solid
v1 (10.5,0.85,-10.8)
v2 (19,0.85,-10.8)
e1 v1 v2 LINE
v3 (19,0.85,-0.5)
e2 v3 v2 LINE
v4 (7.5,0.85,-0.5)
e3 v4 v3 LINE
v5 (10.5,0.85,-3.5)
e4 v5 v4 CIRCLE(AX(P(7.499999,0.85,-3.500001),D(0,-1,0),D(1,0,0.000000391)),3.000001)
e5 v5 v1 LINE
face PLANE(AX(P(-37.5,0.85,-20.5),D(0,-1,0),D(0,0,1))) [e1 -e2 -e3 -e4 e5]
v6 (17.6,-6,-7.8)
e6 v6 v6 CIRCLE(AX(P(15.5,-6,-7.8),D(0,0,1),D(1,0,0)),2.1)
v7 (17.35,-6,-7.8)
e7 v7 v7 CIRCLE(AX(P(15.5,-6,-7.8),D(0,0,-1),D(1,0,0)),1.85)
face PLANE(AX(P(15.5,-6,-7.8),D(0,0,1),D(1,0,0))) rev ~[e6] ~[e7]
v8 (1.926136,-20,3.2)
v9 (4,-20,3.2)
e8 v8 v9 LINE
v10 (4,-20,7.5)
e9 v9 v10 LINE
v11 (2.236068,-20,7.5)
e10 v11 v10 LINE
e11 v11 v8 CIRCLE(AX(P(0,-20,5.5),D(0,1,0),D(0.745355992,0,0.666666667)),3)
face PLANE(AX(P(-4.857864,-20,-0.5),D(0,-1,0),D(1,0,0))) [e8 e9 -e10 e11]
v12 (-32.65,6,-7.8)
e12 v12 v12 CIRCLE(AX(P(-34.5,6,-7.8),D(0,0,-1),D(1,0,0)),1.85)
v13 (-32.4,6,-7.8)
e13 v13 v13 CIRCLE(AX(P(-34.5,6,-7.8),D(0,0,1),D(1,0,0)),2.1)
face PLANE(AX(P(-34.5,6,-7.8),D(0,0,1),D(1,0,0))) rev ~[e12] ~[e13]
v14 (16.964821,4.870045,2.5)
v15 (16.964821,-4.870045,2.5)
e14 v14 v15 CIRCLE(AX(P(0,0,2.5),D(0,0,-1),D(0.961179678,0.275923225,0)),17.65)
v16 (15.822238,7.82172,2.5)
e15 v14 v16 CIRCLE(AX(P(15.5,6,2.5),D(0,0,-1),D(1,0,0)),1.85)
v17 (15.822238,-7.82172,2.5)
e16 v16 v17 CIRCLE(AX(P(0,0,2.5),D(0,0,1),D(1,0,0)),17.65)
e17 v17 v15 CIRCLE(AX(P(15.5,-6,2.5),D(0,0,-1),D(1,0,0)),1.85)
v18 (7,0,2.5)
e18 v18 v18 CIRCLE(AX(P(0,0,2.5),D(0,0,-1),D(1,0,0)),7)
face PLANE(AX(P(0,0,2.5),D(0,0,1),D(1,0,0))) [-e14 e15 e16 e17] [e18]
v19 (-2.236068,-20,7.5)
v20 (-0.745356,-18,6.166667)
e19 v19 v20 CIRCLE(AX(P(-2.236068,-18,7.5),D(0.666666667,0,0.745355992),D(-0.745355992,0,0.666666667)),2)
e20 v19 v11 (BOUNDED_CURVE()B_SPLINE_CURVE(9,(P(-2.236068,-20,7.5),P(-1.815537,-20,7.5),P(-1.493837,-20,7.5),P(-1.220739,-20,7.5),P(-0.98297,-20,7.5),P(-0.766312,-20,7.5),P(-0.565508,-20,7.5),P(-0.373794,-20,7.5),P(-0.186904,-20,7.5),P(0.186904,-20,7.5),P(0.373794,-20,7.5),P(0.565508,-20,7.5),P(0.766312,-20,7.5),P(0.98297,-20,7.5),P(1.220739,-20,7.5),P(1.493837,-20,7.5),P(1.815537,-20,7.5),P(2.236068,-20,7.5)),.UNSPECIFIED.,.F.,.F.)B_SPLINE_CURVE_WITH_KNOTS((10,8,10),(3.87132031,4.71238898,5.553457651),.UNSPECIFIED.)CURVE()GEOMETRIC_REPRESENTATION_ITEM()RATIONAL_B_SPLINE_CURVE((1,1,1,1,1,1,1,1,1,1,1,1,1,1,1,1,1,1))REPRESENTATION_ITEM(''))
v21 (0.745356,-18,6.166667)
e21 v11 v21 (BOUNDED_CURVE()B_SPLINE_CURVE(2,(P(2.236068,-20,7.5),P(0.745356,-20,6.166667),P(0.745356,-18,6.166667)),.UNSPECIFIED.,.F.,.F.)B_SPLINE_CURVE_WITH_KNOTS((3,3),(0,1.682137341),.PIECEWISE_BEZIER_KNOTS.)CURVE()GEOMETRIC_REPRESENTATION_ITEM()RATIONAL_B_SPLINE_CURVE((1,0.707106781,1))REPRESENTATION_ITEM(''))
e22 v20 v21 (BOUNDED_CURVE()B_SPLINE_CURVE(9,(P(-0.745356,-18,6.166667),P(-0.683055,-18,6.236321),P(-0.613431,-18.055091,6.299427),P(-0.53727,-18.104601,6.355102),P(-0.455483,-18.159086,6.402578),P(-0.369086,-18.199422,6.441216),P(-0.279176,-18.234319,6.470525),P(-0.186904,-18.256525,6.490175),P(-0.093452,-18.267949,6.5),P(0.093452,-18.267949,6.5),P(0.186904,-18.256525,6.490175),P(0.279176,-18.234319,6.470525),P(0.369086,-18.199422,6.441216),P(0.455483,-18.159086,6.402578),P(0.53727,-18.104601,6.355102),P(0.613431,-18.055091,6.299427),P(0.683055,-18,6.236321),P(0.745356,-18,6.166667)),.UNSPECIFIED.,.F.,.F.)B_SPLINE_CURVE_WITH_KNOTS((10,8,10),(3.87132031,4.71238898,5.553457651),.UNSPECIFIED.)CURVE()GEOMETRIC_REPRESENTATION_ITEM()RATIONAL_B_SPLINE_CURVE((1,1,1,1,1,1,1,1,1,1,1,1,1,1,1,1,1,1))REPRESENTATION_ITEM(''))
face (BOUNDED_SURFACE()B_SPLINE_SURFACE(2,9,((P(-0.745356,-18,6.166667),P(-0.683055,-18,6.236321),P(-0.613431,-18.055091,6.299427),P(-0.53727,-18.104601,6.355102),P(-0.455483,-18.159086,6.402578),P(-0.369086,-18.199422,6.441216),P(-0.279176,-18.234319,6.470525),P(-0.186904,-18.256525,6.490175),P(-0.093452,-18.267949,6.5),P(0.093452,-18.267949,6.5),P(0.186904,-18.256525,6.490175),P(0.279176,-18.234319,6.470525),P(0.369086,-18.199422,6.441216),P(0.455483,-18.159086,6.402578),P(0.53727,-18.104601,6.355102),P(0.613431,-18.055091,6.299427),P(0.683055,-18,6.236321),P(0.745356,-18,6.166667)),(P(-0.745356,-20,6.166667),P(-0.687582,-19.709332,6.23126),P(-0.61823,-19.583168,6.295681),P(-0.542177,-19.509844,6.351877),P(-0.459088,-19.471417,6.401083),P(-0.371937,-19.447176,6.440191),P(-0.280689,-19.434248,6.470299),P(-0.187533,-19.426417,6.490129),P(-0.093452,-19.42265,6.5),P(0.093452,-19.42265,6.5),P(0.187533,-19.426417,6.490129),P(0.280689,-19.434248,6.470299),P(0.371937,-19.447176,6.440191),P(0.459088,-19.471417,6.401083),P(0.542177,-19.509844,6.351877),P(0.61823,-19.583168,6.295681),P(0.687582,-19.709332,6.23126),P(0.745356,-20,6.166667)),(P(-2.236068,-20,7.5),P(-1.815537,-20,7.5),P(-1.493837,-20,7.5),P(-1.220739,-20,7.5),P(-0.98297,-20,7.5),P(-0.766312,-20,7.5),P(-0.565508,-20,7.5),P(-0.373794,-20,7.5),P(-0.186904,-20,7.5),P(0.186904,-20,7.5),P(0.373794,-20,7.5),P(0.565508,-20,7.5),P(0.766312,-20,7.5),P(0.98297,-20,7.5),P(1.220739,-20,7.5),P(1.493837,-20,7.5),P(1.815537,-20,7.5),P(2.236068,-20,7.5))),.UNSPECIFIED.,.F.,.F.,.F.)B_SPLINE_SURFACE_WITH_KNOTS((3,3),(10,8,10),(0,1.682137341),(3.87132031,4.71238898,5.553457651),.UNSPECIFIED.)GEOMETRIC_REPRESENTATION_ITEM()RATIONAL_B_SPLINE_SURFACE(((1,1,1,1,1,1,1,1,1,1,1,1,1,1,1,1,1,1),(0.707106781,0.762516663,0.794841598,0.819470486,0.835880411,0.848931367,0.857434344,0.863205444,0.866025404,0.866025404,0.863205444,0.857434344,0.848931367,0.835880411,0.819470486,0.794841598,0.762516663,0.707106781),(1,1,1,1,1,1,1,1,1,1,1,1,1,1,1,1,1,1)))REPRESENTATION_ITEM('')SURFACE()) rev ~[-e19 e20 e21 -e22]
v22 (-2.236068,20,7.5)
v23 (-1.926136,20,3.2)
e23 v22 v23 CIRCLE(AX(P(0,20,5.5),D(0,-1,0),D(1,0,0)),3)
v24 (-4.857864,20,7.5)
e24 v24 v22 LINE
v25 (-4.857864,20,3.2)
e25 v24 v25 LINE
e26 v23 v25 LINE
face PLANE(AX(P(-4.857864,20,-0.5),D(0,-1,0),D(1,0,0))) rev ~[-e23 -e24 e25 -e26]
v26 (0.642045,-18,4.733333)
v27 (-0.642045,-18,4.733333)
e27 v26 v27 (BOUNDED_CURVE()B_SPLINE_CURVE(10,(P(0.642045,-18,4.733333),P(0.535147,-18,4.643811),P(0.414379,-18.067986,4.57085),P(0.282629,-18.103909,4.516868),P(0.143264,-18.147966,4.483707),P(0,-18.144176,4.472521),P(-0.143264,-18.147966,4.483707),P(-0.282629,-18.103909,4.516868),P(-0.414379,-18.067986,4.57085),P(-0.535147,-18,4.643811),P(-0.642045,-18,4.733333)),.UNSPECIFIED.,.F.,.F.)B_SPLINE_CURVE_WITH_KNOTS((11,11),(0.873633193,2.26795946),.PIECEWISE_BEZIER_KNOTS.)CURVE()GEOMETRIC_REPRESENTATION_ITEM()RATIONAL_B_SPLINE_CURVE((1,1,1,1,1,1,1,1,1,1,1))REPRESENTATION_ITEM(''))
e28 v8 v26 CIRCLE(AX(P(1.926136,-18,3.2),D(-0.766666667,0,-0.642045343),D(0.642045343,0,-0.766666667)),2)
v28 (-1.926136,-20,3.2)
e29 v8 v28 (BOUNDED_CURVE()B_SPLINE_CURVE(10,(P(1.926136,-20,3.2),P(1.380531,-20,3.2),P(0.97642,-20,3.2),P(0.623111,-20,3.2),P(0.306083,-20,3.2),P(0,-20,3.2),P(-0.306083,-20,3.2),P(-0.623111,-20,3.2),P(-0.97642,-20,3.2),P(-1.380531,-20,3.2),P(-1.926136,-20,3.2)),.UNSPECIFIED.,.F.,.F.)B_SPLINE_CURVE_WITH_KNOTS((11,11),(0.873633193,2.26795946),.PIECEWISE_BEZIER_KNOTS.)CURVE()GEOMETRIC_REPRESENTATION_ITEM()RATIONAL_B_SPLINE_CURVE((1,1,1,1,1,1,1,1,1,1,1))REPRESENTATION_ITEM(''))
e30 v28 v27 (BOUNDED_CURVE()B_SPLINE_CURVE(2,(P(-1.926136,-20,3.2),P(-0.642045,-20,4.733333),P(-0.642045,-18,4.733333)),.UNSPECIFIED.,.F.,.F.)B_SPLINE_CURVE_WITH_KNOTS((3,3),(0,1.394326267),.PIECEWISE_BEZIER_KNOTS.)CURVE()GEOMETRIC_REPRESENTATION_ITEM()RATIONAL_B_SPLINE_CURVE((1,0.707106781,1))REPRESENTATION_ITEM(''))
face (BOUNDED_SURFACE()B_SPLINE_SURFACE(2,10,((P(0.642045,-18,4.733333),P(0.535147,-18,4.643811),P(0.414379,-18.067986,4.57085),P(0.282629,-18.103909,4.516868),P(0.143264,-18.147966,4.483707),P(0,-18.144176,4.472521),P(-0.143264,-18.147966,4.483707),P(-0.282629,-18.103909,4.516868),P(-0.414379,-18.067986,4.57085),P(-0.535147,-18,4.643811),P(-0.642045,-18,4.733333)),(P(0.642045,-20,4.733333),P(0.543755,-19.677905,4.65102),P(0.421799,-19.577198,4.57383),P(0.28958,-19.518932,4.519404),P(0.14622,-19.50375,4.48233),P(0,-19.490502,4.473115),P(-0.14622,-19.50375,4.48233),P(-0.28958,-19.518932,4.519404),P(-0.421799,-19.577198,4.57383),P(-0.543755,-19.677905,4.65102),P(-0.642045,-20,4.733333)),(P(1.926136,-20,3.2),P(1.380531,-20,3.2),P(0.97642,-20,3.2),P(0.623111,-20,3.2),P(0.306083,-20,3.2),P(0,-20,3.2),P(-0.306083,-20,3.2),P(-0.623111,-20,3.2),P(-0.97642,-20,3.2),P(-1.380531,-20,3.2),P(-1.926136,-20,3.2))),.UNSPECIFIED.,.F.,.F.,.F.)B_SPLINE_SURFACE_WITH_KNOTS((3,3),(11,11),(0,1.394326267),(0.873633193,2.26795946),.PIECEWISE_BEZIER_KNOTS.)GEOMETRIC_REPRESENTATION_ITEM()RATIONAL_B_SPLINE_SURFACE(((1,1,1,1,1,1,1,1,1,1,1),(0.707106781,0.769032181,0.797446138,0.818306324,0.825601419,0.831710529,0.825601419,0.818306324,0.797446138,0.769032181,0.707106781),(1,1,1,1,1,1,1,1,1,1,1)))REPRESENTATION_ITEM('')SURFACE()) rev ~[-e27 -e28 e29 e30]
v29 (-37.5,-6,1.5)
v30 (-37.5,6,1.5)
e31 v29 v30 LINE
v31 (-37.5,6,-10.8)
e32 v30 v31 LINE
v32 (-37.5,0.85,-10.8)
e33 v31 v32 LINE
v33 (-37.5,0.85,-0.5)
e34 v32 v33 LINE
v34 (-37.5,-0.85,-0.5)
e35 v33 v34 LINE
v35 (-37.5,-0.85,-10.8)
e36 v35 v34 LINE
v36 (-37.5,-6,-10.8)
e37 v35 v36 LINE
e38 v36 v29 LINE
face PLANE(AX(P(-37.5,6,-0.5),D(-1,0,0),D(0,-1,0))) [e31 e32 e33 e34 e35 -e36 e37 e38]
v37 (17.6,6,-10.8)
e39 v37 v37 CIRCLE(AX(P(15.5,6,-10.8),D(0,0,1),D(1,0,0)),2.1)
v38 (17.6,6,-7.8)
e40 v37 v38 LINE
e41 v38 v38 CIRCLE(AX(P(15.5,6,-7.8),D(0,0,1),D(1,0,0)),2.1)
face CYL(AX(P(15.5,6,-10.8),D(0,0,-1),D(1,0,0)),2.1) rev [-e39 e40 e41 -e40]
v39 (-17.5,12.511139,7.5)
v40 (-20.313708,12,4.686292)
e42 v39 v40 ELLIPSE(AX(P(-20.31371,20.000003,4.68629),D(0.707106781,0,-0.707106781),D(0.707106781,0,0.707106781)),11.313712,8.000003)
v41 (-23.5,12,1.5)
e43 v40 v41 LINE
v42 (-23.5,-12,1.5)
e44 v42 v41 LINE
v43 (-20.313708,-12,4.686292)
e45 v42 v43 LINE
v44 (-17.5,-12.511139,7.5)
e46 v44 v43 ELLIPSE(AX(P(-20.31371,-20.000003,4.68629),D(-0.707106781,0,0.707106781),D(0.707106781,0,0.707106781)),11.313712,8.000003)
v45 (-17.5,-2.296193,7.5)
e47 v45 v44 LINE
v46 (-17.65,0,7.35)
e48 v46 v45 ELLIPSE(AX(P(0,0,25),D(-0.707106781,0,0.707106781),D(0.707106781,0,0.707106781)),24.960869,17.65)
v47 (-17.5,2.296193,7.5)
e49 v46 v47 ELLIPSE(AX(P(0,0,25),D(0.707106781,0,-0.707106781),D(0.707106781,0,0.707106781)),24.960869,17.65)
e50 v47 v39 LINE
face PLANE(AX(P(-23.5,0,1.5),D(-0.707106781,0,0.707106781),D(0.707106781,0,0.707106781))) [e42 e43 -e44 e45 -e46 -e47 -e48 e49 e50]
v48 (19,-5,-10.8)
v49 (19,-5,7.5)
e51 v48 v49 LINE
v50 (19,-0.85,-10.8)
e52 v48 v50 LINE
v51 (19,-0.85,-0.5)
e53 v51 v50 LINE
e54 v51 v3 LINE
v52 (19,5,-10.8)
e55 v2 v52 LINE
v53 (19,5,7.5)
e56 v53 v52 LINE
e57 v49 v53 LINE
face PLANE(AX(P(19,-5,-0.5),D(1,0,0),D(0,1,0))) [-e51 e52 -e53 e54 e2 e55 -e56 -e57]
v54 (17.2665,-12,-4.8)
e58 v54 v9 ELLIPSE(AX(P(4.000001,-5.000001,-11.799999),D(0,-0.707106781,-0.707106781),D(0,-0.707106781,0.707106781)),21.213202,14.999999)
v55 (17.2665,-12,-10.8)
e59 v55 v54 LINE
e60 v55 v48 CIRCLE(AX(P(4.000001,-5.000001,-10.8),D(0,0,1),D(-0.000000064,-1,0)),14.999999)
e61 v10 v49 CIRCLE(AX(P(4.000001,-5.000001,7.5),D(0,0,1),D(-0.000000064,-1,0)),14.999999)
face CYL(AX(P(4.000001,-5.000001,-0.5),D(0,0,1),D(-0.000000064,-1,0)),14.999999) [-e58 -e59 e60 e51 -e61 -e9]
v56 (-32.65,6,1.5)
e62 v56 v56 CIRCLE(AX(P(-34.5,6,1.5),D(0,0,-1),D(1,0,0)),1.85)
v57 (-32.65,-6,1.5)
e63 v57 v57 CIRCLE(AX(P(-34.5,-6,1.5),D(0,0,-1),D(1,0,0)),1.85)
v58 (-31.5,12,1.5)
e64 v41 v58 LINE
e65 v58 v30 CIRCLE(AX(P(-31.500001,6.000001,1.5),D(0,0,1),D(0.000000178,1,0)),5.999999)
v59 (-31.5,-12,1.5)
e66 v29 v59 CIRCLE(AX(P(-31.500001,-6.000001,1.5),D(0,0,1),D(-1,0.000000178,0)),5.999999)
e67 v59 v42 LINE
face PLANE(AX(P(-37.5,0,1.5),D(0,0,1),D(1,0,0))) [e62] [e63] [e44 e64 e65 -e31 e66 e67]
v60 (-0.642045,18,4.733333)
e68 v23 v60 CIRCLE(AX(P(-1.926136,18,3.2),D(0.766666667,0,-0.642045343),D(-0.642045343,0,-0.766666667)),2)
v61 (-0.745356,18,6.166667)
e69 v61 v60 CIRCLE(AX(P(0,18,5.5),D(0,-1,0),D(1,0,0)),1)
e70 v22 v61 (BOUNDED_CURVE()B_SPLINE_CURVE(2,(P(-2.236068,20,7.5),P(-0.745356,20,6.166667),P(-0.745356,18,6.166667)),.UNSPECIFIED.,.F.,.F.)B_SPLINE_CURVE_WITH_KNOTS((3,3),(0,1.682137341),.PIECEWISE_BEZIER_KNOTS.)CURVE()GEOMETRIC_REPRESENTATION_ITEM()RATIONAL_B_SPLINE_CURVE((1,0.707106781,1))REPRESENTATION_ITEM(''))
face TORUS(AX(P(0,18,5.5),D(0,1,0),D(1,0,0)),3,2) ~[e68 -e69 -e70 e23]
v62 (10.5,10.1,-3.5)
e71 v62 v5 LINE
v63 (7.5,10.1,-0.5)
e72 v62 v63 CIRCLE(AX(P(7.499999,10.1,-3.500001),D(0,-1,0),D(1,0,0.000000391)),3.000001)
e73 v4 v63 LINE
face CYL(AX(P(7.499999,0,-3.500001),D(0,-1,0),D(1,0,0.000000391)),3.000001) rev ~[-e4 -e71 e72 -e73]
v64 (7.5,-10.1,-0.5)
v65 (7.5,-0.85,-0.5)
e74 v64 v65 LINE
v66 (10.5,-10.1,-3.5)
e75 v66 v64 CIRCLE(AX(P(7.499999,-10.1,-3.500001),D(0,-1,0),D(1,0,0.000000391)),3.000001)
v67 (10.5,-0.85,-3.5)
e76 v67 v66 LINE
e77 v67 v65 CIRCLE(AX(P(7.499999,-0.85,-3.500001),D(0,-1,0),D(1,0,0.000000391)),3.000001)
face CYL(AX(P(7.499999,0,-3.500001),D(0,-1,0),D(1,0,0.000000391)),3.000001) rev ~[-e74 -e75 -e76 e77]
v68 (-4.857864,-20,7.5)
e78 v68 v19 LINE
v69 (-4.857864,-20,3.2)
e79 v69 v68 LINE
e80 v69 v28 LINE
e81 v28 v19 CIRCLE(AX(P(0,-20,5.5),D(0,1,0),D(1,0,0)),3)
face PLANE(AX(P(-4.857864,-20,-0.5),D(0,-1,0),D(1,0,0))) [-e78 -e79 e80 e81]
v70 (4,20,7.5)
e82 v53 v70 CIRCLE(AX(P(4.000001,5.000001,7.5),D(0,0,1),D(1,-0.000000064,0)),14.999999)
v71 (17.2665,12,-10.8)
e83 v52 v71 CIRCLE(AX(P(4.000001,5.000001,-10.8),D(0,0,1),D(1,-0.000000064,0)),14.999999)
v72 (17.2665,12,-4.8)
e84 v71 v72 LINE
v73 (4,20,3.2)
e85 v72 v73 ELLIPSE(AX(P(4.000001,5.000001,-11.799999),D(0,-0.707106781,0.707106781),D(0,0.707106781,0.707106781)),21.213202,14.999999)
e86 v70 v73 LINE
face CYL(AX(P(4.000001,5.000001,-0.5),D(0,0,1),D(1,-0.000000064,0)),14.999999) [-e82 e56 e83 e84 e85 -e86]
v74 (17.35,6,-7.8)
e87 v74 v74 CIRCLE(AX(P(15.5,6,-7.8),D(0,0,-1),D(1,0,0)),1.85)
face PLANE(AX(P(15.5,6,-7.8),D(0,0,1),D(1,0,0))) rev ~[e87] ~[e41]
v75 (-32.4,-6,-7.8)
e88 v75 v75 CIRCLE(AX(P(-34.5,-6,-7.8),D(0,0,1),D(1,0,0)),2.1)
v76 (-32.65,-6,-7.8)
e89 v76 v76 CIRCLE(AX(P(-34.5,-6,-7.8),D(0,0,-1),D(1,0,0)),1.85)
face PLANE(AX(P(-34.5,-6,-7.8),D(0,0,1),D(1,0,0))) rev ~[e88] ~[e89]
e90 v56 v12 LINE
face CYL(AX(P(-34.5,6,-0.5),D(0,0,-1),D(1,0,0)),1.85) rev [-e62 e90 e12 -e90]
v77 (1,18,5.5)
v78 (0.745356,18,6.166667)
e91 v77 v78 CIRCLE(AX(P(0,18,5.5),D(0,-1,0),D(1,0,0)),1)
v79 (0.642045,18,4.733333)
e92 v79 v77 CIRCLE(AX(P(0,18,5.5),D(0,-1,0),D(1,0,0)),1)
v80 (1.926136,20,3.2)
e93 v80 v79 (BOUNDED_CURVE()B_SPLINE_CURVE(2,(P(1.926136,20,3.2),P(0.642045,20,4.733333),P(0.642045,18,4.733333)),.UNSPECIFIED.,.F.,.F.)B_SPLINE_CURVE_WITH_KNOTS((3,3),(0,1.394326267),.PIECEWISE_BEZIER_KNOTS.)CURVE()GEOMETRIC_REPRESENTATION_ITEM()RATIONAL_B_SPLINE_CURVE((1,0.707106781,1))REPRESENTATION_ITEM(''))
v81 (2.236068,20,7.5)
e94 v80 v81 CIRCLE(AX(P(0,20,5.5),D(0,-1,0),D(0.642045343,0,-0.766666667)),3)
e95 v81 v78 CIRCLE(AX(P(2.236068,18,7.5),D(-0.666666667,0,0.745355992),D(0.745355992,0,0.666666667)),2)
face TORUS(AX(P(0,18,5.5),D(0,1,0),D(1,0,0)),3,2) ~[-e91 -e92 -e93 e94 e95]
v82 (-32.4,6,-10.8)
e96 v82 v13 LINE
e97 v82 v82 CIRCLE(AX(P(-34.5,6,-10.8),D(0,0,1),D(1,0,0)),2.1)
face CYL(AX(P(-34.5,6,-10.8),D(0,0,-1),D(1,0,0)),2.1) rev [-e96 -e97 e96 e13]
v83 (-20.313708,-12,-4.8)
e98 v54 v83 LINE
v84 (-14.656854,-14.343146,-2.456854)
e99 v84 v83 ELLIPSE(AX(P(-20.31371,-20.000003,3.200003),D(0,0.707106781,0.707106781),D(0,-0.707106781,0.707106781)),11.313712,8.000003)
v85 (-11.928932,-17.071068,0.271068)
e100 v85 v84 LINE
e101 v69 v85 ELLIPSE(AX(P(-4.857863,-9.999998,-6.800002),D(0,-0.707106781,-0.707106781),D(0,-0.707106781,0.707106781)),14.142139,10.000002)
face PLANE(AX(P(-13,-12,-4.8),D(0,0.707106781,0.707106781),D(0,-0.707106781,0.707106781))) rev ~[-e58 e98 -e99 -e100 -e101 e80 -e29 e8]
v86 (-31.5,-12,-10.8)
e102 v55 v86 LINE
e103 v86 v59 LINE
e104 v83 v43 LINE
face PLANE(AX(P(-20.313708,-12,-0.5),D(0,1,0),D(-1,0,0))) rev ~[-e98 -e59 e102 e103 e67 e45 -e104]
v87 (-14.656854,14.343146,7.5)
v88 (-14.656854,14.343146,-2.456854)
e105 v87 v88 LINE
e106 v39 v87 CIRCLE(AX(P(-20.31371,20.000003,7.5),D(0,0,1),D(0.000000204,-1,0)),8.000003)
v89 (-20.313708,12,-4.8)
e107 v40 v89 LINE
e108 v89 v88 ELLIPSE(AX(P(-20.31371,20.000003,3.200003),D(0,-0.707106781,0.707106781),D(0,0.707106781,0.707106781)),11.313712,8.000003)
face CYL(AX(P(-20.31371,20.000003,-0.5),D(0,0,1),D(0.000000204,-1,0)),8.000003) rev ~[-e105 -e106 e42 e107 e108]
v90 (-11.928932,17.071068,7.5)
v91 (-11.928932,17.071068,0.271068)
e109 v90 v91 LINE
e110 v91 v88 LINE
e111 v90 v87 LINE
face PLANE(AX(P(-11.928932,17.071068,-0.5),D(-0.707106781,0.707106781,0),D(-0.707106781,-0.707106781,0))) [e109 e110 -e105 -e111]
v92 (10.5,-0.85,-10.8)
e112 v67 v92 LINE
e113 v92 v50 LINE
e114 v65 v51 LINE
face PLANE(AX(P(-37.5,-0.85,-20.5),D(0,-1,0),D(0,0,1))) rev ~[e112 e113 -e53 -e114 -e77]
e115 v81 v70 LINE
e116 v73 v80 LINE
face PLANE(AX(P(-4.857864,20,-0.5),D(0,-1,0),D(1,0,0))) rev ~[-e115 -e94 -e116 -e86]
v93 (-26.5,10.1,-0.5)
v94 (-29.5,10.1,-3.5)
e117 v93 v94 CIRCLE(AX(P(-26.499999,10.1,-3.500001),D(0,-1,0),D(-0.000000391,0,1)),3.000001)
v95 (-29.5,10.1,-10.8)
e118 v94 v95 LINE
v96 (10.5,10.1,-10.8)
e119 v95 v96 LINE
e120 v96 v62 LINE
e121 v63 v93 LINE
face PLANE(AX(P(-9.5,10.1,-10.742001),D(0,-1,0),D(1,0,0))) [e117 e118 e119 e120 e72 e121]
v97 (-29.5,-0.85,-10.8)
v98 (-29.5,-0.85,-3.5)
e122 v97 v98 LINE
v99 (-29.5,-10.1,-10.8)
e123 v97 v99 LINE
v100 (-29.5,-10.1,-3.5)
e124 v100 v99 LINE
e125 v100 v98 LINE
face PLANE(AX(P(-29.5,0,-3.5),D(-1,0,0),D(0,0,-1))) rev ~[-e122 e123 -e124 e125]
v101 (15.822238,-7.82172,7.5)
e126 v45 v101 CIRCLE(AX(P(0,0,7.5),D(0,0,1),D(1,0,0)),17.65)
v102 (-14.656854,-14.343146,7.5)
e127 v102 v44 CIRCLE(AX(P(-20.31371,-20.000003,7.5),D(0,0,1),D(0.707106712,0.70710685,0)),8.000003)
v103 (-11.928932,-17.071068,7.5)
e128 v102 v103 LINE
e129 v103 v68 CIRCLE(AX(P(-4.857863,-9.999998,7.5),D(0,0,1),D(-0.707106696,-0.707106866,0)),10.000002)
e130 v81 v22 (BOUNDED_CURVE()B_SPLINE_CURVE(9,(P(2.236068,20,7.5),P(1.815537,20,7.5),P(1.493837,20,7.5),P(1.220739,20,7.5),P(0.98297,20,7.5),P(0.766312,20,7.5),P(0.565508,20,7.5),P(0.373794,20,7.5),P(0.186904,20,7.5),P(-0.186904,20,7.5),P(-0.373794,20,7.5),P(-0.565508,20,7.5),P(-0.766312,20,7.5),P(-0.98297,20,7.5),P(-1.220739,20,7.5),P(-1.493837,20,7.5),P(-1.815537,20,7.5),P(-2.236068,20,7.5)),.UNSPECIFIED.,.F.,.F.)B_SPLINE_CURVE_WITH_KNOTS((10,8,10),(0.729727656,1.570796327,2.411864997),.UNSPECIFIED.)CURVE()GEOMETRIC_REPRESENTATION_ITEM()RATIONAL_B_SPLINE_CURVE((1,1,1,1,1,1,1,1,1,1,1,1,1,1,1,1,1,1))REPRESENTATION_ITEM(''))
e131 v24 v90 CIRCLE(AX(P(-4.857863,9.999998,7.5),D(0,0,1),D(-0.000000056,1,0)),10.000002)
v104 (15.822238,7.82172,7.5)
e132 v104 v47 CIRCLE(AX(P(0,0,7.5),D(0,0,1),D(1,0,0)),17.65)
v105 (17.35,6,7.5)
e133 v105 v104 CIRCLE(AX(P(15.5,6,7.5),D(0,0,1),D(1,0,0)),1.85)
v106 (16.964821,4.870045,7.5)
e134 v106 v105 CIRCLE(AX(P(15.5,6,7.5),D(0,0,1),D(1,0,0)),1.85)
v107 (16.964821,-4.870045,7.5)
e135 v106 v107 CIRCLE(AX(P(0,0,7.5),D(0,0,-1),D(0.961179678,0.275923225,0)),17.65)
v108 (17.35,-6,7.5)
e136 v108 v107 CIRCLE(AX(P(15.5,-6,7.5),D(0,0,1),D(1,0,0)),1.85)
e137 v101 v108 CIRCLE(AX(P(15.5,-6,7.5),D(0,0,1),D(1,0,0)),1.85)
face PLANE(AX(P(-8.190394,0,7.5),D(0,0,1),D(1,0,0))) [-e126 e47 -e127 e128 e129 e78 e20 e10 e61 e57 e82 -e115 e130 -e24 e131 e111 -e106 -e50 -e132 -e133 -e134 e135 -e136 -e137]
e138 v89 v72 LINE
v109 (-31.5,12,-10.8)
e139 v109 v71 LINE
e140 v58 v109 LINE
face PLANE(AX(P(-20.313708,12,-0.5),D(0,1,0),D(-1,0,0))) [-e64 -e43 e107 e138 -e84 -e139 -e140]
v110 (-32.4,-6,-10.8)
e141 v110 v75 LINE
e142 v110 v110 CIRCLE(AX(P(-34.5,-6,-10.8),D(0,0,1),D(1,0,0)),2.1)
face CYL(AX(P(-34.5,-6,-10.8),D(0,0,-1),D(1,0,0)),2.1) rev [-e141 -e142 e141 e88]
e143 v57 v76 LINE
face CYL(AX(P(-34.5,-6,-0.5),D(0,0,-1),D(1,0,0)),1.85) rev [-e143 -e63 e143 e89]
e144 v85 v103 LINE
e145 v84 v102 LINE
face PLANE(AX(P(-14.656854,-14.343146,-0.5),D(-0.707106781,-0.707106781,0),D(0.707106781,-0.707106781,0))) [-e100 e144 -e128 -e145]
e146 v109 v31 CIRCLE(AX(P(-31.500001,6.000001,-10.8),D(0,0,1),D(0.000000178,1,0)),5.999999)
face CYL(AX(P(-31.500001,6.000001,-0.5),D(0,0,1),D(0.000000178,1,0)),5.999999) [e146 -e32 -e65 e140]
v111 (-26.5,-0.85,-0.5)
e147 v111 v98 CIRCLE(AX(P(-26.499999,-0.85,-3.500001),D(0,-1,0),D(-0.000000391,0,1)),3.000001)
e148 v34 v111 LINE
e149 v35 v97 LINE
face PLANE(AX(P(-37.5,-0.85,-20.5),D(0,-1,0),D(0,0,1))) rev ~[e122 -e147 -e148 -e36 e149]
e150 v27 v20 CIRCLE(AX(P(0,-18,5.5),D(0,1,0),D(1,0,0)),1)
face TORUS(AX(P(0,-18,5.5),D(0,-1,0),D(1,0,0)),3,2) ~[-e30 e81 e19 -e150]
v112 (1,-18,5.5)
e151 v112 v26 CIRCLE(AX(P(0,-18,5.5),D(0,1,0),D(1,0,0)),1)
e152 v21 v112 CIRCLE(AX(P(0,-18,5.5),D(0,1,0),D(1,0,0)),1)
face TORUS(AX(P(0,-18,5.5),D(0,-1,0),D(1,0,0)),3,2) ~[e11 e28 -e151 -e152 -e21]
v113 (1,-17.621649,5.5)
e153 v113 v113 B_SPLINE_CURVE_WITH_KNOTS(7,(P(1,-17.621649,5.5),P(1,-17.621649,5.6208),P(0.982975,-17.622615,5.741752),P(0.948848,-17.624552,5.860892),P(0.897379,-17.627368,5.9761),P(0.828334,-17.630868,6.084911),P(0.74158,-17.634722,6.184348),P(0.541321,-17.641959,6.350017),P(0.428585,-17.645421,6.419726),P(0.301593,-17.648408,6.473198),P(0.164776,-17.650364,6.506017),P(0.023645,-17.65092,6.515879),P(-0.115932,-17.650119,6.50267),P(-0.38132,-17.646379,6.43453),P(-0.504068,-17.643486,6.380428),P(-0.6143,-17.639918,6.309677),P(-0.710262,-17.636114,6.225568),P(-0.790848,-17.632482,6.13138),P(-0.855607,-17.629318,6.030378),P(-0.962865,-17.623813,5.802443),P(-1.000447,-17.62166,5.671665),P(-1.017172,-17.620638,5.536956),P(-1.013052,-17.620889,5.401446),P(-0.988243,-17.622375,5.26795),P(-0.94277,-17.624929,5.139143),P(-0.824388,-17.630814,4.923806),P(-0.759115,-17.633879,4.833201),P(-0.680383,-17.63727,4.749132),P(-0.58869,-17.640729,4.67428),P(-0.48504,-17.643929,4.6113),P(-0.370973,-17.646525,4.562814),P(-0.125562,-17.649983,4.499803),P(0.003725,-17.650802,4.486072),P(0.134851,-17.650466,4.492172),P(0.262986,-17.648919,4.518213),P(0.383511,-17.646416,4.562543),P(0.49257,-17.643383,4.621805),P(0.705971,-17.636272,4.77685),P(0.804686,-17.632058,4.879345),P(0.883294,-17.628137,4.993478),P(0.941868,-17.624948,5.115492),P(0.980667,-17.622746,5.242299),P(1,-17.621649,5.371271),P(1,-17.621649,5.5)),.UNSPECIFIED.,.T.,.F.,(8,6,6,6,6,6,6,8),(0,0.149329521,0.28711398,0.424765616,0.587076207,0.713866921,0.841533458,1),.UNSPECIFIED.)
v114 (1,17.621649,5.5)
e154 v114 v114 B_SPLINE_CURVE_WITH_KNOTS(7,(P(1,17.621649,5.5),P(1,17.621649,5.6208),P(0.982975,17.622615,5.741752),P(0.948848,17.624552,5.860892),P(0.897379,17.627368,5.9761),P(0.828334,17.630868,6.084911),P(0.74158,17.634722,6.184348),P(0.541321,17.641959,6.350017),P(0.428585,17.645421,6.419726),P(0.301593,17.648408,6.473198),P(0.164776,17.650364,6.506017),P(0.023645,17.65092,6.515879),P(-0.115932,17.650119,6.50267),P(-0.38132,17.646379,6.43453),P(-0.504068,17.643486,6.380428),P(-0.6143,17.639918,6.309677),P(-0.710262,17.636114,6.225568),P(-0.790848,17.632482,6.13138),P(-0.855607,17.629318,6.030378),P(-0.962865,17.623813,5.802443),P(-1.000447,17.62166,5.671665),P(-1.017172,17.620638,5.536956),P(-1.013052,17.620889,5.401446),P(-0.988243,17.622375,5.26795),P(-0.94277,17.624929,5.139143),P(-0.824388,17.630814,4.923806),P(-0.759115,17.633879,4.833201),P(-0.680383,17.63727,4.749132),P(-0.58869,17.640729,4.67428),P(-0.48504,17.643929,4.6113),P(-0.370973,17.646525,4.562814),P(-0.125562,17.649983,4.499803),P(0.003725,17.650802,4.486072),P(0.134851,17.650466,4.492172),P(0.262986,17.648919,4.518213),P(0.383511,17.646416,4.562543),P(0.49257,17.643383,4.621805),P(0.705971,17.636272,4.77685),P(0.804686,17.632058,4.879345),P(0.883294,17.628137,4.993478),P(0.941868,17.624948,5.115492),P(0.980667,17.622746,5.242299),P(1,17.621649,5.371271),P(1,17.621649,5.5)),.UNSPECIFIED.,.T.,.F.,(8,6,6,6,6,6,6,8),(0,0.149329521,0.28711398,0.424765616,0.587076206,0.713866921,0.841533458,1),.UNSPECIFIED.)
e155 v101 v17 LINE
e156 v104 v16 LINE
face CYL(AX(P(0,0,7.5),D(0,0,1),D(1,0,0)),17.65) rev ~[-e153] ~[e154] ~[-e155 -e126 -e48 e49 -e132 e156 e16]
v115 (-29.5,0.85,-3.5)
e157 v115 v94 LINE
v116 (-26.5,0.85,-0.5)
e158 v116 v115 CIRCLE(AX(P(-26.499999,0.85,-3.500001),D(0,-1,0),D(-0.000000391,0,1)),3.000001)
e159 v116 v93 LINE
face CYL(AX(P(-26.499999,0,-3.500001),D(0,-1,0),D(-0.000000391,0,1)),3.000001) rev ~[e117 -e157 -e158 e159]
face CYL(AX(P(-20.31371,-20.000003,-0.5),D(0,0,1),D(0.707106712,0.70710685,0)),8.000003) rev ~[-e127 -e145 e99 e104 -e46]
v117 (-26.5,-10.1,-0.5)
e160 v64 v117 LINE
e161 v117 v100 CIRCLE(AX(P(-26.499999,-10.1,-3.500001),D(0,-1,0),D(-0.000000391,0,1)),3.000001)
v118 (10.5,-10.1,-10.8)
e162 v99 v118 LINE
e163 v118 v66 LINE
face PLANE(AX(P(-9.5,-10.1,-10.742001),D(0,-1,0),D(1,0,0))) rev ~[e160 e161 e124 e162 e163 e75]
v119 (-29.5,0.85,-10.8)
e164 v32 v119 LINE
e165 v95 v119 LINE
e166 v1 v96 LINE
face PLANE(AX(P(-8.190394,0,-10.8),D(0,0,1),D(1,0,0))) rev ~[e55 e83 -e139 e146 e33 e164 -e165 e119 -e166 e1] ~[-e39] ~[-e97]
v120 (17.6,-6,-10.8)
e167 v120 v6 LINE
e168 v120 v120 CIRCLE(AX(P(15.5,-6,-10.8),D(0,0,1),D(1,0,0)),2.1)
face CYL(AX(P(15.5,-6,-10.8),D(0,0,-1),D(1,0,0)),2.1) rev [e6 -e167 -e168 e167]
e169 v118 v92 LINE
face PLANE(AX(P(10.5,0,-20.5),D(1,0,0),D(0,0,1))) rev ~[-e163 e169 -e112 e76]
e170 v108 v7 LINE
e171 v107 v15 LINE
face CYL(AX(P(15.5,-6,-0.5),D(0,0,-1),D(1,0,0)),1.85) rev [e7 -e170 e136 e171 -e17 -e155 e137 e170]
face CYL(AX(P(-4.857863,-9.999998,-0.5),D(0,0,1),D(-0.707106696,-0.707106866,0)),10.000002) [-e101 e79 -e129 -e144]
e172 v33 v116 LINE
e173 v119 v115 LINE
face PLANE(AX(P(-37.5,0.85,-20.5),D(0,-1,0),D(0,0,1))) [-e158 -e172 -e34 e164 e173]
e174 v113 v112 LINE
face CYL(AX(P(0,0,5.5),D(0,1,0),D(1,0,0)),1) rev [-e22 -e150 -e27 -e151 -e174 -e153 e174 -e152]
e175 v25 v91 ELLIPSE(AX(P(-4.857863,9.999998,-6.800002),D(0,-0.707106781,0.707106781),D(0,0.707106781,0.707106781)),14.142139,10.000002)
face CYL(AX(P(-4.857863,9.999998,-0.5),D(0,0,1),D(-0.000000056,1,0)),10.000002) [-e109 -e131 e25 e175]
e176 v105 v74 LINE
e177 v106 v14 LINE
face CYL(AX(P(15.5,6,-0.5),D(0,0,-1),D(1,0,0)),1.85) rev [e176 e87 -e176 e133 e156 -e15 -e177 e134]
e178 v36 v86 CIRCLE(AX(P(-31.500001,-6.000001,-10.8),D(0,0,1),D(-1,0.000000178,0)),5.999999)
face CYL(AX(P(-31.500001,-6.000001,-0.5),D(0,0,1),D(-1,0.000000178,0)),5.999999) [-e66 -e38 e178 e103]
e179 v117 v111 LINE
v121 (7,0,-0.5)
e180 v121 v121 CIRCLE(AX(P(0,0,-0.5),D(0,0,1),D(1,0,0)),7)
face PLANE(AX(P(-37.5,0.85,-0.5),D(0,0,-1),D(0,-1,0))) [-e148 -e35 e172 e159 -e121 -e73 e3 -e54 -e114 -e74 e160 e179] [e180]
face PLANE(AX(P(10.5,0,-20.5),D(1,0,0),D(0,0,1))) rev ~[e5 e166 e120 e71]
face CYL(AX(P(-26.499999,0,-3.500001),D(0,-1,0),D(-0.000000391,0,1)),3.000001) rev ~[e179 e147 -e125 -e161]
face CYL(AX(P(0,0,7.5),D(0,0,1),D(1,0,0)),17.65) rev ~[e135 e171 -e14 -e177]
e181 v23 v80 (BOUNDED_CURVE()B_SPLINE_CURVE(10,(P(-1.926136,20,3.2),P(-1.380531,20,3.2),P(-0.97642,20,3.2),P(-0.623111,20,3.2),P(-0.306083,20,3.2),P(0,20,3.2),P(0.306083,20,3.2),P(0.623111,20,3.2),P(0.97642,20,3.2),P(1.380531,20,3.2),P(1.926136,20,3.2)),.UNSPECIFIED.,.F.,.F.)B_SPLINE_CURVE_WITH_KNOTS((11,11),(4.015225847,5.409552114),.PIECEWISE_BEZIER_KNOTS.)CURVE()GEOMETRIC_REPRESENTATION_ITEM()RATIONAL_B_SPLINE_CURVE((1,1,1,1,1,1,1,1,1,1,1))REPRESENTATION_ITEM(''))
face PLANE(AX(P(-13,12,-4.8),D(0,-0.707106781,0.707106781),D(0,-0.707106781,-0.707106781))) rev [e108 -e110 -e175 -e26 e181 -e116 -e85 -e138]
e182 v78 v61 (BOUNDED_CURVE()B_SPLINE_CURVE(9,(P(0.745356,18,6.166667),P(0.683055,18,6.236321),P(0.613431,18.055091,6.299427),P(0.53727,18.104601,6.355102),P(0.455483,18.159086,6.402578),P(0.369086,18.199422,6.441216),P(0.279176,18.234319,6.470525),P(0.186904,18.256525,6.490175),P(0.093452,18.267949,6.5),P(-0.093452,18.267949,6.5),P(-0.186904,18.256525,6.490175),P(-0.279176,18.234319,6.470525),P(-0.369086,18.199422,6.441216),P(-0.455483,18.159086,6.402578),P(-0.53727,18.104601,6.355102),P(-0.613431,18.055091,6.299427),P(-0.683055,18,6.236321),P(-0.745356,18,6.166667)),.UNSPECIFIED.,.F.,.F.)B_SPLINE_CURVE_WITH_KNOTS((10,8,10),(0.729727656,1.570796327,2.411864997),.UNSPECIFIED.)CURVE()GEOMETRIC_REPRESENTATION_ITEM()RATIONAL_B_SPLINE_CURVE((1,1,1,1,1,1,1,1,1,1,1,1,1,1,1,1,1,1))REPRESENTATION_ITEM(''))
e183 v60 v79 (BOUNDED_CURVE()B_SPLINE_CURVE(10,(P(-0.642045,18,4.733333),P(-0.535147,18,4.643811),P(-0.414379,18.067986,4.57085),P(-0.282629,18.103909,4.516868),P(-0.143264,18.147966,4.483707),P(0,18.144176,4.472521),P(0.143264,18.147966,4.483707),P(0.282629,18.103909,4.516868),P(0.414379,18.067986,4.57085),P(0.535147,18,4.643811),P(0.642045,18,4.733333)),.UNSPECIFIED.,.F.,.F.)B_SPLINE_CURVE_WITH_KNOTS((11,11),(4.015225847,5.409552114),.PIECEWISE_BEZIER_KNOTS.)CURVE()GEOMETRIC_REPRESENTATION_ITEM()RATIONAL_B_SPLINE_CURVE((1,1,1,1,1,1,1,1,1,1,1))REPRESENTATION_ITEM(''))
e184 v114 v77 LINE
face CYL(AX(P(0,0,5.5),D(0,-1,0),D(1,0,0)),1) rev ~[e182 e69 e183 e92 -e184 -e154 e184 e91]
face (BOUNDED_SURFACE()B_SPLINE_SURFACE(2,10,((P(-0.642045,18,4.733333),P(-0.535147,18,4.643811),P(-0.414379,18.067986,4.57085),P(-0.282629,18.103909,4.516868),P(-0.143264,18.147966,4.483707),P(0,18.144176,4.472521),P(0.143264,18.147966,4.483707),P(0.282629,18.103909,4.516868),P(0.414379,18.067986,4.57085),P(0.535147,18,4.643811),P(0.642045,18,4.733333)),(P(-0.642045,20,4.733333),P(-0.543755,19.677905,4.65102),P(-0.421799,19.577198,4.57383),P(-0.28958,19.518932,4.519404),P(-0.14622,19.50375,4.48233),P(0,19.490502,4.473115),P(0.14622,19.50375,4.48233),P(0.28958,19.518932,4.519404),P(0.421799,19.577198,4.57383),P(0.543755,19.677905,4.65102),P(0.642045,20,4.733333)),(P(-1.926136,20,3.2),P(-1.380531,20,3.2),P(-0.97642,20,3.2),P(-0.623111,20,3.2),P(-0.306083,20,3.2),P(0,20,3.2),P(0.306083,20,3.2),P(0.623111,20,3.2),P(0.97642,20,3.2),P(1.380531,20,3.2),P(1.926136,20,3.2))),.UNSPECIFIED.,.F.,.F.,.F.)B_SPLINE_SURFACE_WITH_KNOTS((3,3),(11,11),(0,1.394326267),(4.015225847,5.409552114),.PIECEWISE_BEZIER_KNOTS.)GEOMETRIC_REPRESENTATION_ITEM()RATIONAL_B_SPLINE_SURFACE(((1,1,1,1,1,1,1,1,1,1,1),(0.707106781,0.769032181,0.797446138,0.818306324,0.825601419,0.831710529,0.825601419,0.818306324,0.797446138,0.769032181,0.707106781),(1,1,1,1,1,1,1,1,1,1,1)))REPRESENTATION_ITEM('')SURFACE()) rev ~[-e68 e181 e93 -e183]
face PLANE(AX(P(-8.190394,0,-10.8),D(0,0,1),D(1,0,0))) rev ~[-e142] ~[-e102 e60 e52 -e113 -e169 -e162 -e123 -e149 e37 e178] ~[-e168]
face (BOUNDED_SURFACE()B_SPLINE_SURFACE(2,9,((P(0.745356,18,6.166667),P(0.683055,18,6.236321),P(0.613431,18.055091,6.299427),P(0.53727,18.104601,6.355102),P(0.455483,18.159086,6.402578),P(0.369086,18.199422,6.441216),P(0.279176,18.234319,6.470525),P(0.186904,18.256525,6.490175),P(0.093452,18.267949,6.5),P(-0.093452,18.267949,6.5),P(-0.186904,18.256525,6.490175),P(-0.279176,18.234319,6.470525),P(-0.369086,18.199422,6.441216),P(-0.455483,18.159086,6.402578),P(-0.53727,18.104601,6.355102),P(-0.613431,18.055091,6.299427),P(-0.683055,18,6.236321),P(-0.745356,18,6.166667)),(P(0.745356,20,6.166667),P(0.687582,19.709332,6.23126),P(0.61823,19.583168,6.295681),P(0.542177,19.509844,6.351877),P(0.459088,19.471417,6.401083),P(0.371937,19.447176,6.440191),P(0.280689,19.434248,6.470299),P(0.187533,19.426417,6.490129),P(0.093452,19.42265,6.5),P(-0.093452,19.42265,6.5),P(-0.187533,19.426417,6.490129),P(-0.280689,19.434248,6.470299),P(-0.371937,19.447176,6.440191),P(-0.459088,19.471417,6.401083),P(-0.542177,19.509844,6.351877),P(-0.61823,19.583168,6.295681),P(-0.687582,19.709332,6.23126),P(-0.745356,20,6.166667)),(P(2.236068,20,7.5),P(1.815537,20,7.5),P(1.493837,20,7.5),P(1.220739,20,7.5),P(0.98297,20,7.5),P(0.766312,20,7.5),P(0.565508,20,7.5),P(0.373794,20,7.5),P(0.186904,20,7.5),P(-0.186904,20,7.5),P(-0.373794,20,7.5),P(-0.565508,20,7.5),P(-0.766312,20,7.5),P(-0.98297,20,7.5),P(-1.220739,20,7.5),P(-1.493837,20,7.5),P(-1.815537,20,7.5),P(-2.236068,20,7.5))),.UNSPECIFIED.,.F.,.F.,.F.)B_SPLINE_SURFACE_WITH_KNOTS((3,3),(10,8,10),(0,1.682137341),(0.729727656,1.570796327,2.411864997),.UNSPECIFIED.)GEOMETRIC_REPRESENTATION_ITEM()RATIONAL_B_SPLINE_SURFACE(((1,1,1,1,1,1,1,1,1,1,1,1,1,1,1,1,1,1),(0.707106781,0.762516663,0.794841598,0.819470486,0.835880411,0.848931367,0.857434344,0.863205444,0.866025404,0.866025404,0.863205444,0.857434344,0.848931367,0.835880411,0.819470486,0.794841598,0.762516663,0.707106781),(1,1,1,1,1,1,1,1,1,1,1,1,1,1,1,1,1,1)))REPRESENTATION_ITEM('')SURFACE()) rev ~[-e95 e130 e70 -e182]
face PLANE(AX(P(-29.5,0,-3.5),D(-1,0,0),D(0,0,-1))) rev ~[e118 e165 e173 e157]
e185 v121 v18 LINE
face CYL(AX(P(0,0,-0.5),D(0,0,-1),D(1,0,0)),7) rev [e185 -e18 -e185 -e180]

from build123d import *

# Parameters (mm, degrees)
SKETCH035_R          = 7
SKETCH035_R_2        = 1.85
PAD031_DEPTH         = 8
PAD031_DEPTH_BACK    = 10.3
POCKET036_DEPTH      = 10.1
SKETCH070_W          = 1.7
SKETCH070_H          = 20
POCKET037_DEPTH      = 56.501
SKETCH043_R          = 17.65
POCKET038_DEPTH      = 5
POCKET039_DEPTH      = 20.001
POCKET039_DEPTH_BACK = 20.001
POCKET040_DEPTH      = 167.7091
POCKET040_DEPTH_BACK = 175.2091
SKETCH073_R          = 1
POCKET041_DEPTH      = 20.001
POCKET041_DEPTH_BACK = 20.001
FILLET006_R          = 2
SKETCH074_R          = 2.1
POCKET042_DEPTH      = 3


with BuildPart() as part:
    # Sketch035 → Pad031 (new body, two sides)
    with BuildSketch(Plane.XY) as pad031_sk:
        with BuildLine():
            Line((-24.5, 6), (-24.5, -6))
            ThreePointArc((-24.5, -6), (-22.742641, -10.242641), (-18.5, -12))
            Line((-7.313708, -12), (-18.5, -12))
            ThreePointArc((-1.656854, -14.343146), (-4.252241, -12.608964), (-7.313708, -12))
            Line((-1.656854, -14.343146), (1.071068, -17.071068))
            ThreePointArc((1.071068, -17.071068), (4.315301, -19.238795), (8.142136, -20))
            Line((8.142136, -20), (17, -20))
            ThreePointArc((17, -20), (27.606602, -15.606602), (32, -5))
            Line((32, -5), (32, 5))
            ThreePointArc((32, 5), (27.606602, 15.606602), (17, 20))
            Line((8.142136, 20), (17, 20))
            ThreePointArc((8.142136, 20), (4.315301, 19.238795), (1.071068, 17.071068))
            Line((1.071068, 17.071068), (-1.656854, 14.343146))
            ThreePointArc((-7.313708, 12), (-4.252241, 12.608964), (-1.656854, 14.343146))
            Line((-7.313708, 12), (-18.5, 12))
            ThreePointArc((-18.5, 12), (-22.742641, 10.242641), (-24.5, 6))
        make_face()
        with Locations((13, 0)):
            Circle(SKETCH035_R, mode=Mode.SUBTRACT)
        with Locations((-21.5, 6)):
            Circle(SKETCH035_R_2, mode=Mode.SUBTRACT)
        with Locations((-21.5, -6)):
            Circle(SKETCH035_R_2, mode=Mode.SUBTRACT)
        with Locations((28.5, 6)):
            Circle(SKETCH035_R_2, mode=Mode.SUBTRACT)
        with Locations((28.5, -6)):
            Circle(SKETCH035_R_2, mode=Mode.SUBTRACT)
    extrude(amount=PAD031_DEPTH)
    extrude(pad031_sk.sketch, amount=-PAD031_DEPTH_BACK)

    # Sketch069 → Pocket036 (cut, symmetric)
    with BuildSketch(Plane.XZ):
        with BuildLine():
            Line((-16.5, -3), (-16.5, -20))
            Line((-16.5, -20), (23.5, -20))
            Line((23.5, -20), (23.5, -3))
            ThreePointArc((23.5, -3), (22.62132, -0.87868), (20.5, 0))
            Line((20.5, 0), (-13.5, 0))
            ThreePointArc((-13.5, 0), (-15.62132, -0.87868), (-16.5, -3))
        make_face()
    extrude(amount=POCKET036_DEPTH, both=True, mode=Mode.SUBTRACT)

    # Sketch070 (on Face7 of Pocket036) → Pocket037 (cut, through all)
    with BuildSketch(Plane(origin=(-24.5, 0, 0), x_dir=(0, -1, 0), z_dir=(-1, 0, 0))):
        with Locations((0, -10)):
            Rectangle(SKETCH070_W, SKETCH070_H)
    extrude(amount=-POCKET037_DEPTH, mode=Mode.SUBTRACT)

    # Sketch043 (on Face5 of Pocket037) → Pocket038 (cut)
    with BuildSketch(Plane.XY.offset(8)):
        with Locations((13, 0)):
            Circle(SKETCH043_R)
    extrude(amount=-POCKET038_DEPTH, mode=Mode.SUBTRACT)

    # Sketch071 → Pocket039 (cut, two sides)
    with BuildSketch(Plane.XZ) as pocket039_sk:
        Polygon((-24.5, 8), (-24.5, 2), (-10.5, 2), (-4.5, 8), align=None)
    extrude(amount=-POCKET039_DEPTH, mode=Mode.SUBTRACT)
    extrude(pocket039_sk.sketch, amount=POCKET039_DEPTH_BACK, mode=Mode.SUBTRACT)

    # Sketch072 → Pocket040 (cut, two sides)
    with BuildSketch(Plane.YZ) as pocket040_sk:
        Polygon((-20, -10.3), (-12, -10.3), (-12, -4.3), (-20, 3.7), align=None)
    pocket040 = extrude(amount=-POCKET040_DEPTH, mode=Mode.SUBTRACT) + extrude(pocket040_sk.sketch, amount=POCKET040_DEPTH_BACK, mode=Mode.SUBTRACT)

    # Mirrored005: Pocket040 across Sketch072 V_Axis
    add(pocket040.mirror(Plane(origin=(0, 0, 0), x_dir=(1, 0, 0), z_dir=(0, 1, 0))), mode=Mode.SUBTRACT)

    # Sketch073 → Pocket041 (cut, two sides)
    with BuildSketch(Plane.XZ) as pocket041_sk:
        with Locations((13, 6)):
            Circle(SKETCH073_R)
    extrude(amount=-POCKET041_DEPTH, mode=Mode.SUBTRACT)
    extrude(pocket041_sk.sketch, amount=POCKET041_DEPTH_BACK, mode=Mode.SUBTRACT)

    # Fillet006
    fillet006_edges = [part.edges().sort_by_distance(p)[0] for p in [
        (12, -20, 6),
        (12, 20, 6),
    ]]
    fillet(fillet006_edges, radius=FILLET006_R)

    # Sketch074 → Pocket042 (cut)
    with BuildSketch(Plane.XY.offset(-10.3)):
        with Locations((-21.5, 6)):
            Circle(SKETCH074_R)
        with Locations((-21.5, -6)):
            Circle(SKETCH074_R)
        with Locations((28.5, -6)):
            Circle(SKETCH074_R)
        with Locations((28.5, 6)):
            Circle(SKETCH074_R)
    extrude(amount=POCKET042_DEPTH, mode=Mode.SUBTRACT)


with BuildPart() as part_1:
    # Body018 placement: moved
    add(part.part.moved(Location((-13, 0, -0.5))))


solid = part_1.part
